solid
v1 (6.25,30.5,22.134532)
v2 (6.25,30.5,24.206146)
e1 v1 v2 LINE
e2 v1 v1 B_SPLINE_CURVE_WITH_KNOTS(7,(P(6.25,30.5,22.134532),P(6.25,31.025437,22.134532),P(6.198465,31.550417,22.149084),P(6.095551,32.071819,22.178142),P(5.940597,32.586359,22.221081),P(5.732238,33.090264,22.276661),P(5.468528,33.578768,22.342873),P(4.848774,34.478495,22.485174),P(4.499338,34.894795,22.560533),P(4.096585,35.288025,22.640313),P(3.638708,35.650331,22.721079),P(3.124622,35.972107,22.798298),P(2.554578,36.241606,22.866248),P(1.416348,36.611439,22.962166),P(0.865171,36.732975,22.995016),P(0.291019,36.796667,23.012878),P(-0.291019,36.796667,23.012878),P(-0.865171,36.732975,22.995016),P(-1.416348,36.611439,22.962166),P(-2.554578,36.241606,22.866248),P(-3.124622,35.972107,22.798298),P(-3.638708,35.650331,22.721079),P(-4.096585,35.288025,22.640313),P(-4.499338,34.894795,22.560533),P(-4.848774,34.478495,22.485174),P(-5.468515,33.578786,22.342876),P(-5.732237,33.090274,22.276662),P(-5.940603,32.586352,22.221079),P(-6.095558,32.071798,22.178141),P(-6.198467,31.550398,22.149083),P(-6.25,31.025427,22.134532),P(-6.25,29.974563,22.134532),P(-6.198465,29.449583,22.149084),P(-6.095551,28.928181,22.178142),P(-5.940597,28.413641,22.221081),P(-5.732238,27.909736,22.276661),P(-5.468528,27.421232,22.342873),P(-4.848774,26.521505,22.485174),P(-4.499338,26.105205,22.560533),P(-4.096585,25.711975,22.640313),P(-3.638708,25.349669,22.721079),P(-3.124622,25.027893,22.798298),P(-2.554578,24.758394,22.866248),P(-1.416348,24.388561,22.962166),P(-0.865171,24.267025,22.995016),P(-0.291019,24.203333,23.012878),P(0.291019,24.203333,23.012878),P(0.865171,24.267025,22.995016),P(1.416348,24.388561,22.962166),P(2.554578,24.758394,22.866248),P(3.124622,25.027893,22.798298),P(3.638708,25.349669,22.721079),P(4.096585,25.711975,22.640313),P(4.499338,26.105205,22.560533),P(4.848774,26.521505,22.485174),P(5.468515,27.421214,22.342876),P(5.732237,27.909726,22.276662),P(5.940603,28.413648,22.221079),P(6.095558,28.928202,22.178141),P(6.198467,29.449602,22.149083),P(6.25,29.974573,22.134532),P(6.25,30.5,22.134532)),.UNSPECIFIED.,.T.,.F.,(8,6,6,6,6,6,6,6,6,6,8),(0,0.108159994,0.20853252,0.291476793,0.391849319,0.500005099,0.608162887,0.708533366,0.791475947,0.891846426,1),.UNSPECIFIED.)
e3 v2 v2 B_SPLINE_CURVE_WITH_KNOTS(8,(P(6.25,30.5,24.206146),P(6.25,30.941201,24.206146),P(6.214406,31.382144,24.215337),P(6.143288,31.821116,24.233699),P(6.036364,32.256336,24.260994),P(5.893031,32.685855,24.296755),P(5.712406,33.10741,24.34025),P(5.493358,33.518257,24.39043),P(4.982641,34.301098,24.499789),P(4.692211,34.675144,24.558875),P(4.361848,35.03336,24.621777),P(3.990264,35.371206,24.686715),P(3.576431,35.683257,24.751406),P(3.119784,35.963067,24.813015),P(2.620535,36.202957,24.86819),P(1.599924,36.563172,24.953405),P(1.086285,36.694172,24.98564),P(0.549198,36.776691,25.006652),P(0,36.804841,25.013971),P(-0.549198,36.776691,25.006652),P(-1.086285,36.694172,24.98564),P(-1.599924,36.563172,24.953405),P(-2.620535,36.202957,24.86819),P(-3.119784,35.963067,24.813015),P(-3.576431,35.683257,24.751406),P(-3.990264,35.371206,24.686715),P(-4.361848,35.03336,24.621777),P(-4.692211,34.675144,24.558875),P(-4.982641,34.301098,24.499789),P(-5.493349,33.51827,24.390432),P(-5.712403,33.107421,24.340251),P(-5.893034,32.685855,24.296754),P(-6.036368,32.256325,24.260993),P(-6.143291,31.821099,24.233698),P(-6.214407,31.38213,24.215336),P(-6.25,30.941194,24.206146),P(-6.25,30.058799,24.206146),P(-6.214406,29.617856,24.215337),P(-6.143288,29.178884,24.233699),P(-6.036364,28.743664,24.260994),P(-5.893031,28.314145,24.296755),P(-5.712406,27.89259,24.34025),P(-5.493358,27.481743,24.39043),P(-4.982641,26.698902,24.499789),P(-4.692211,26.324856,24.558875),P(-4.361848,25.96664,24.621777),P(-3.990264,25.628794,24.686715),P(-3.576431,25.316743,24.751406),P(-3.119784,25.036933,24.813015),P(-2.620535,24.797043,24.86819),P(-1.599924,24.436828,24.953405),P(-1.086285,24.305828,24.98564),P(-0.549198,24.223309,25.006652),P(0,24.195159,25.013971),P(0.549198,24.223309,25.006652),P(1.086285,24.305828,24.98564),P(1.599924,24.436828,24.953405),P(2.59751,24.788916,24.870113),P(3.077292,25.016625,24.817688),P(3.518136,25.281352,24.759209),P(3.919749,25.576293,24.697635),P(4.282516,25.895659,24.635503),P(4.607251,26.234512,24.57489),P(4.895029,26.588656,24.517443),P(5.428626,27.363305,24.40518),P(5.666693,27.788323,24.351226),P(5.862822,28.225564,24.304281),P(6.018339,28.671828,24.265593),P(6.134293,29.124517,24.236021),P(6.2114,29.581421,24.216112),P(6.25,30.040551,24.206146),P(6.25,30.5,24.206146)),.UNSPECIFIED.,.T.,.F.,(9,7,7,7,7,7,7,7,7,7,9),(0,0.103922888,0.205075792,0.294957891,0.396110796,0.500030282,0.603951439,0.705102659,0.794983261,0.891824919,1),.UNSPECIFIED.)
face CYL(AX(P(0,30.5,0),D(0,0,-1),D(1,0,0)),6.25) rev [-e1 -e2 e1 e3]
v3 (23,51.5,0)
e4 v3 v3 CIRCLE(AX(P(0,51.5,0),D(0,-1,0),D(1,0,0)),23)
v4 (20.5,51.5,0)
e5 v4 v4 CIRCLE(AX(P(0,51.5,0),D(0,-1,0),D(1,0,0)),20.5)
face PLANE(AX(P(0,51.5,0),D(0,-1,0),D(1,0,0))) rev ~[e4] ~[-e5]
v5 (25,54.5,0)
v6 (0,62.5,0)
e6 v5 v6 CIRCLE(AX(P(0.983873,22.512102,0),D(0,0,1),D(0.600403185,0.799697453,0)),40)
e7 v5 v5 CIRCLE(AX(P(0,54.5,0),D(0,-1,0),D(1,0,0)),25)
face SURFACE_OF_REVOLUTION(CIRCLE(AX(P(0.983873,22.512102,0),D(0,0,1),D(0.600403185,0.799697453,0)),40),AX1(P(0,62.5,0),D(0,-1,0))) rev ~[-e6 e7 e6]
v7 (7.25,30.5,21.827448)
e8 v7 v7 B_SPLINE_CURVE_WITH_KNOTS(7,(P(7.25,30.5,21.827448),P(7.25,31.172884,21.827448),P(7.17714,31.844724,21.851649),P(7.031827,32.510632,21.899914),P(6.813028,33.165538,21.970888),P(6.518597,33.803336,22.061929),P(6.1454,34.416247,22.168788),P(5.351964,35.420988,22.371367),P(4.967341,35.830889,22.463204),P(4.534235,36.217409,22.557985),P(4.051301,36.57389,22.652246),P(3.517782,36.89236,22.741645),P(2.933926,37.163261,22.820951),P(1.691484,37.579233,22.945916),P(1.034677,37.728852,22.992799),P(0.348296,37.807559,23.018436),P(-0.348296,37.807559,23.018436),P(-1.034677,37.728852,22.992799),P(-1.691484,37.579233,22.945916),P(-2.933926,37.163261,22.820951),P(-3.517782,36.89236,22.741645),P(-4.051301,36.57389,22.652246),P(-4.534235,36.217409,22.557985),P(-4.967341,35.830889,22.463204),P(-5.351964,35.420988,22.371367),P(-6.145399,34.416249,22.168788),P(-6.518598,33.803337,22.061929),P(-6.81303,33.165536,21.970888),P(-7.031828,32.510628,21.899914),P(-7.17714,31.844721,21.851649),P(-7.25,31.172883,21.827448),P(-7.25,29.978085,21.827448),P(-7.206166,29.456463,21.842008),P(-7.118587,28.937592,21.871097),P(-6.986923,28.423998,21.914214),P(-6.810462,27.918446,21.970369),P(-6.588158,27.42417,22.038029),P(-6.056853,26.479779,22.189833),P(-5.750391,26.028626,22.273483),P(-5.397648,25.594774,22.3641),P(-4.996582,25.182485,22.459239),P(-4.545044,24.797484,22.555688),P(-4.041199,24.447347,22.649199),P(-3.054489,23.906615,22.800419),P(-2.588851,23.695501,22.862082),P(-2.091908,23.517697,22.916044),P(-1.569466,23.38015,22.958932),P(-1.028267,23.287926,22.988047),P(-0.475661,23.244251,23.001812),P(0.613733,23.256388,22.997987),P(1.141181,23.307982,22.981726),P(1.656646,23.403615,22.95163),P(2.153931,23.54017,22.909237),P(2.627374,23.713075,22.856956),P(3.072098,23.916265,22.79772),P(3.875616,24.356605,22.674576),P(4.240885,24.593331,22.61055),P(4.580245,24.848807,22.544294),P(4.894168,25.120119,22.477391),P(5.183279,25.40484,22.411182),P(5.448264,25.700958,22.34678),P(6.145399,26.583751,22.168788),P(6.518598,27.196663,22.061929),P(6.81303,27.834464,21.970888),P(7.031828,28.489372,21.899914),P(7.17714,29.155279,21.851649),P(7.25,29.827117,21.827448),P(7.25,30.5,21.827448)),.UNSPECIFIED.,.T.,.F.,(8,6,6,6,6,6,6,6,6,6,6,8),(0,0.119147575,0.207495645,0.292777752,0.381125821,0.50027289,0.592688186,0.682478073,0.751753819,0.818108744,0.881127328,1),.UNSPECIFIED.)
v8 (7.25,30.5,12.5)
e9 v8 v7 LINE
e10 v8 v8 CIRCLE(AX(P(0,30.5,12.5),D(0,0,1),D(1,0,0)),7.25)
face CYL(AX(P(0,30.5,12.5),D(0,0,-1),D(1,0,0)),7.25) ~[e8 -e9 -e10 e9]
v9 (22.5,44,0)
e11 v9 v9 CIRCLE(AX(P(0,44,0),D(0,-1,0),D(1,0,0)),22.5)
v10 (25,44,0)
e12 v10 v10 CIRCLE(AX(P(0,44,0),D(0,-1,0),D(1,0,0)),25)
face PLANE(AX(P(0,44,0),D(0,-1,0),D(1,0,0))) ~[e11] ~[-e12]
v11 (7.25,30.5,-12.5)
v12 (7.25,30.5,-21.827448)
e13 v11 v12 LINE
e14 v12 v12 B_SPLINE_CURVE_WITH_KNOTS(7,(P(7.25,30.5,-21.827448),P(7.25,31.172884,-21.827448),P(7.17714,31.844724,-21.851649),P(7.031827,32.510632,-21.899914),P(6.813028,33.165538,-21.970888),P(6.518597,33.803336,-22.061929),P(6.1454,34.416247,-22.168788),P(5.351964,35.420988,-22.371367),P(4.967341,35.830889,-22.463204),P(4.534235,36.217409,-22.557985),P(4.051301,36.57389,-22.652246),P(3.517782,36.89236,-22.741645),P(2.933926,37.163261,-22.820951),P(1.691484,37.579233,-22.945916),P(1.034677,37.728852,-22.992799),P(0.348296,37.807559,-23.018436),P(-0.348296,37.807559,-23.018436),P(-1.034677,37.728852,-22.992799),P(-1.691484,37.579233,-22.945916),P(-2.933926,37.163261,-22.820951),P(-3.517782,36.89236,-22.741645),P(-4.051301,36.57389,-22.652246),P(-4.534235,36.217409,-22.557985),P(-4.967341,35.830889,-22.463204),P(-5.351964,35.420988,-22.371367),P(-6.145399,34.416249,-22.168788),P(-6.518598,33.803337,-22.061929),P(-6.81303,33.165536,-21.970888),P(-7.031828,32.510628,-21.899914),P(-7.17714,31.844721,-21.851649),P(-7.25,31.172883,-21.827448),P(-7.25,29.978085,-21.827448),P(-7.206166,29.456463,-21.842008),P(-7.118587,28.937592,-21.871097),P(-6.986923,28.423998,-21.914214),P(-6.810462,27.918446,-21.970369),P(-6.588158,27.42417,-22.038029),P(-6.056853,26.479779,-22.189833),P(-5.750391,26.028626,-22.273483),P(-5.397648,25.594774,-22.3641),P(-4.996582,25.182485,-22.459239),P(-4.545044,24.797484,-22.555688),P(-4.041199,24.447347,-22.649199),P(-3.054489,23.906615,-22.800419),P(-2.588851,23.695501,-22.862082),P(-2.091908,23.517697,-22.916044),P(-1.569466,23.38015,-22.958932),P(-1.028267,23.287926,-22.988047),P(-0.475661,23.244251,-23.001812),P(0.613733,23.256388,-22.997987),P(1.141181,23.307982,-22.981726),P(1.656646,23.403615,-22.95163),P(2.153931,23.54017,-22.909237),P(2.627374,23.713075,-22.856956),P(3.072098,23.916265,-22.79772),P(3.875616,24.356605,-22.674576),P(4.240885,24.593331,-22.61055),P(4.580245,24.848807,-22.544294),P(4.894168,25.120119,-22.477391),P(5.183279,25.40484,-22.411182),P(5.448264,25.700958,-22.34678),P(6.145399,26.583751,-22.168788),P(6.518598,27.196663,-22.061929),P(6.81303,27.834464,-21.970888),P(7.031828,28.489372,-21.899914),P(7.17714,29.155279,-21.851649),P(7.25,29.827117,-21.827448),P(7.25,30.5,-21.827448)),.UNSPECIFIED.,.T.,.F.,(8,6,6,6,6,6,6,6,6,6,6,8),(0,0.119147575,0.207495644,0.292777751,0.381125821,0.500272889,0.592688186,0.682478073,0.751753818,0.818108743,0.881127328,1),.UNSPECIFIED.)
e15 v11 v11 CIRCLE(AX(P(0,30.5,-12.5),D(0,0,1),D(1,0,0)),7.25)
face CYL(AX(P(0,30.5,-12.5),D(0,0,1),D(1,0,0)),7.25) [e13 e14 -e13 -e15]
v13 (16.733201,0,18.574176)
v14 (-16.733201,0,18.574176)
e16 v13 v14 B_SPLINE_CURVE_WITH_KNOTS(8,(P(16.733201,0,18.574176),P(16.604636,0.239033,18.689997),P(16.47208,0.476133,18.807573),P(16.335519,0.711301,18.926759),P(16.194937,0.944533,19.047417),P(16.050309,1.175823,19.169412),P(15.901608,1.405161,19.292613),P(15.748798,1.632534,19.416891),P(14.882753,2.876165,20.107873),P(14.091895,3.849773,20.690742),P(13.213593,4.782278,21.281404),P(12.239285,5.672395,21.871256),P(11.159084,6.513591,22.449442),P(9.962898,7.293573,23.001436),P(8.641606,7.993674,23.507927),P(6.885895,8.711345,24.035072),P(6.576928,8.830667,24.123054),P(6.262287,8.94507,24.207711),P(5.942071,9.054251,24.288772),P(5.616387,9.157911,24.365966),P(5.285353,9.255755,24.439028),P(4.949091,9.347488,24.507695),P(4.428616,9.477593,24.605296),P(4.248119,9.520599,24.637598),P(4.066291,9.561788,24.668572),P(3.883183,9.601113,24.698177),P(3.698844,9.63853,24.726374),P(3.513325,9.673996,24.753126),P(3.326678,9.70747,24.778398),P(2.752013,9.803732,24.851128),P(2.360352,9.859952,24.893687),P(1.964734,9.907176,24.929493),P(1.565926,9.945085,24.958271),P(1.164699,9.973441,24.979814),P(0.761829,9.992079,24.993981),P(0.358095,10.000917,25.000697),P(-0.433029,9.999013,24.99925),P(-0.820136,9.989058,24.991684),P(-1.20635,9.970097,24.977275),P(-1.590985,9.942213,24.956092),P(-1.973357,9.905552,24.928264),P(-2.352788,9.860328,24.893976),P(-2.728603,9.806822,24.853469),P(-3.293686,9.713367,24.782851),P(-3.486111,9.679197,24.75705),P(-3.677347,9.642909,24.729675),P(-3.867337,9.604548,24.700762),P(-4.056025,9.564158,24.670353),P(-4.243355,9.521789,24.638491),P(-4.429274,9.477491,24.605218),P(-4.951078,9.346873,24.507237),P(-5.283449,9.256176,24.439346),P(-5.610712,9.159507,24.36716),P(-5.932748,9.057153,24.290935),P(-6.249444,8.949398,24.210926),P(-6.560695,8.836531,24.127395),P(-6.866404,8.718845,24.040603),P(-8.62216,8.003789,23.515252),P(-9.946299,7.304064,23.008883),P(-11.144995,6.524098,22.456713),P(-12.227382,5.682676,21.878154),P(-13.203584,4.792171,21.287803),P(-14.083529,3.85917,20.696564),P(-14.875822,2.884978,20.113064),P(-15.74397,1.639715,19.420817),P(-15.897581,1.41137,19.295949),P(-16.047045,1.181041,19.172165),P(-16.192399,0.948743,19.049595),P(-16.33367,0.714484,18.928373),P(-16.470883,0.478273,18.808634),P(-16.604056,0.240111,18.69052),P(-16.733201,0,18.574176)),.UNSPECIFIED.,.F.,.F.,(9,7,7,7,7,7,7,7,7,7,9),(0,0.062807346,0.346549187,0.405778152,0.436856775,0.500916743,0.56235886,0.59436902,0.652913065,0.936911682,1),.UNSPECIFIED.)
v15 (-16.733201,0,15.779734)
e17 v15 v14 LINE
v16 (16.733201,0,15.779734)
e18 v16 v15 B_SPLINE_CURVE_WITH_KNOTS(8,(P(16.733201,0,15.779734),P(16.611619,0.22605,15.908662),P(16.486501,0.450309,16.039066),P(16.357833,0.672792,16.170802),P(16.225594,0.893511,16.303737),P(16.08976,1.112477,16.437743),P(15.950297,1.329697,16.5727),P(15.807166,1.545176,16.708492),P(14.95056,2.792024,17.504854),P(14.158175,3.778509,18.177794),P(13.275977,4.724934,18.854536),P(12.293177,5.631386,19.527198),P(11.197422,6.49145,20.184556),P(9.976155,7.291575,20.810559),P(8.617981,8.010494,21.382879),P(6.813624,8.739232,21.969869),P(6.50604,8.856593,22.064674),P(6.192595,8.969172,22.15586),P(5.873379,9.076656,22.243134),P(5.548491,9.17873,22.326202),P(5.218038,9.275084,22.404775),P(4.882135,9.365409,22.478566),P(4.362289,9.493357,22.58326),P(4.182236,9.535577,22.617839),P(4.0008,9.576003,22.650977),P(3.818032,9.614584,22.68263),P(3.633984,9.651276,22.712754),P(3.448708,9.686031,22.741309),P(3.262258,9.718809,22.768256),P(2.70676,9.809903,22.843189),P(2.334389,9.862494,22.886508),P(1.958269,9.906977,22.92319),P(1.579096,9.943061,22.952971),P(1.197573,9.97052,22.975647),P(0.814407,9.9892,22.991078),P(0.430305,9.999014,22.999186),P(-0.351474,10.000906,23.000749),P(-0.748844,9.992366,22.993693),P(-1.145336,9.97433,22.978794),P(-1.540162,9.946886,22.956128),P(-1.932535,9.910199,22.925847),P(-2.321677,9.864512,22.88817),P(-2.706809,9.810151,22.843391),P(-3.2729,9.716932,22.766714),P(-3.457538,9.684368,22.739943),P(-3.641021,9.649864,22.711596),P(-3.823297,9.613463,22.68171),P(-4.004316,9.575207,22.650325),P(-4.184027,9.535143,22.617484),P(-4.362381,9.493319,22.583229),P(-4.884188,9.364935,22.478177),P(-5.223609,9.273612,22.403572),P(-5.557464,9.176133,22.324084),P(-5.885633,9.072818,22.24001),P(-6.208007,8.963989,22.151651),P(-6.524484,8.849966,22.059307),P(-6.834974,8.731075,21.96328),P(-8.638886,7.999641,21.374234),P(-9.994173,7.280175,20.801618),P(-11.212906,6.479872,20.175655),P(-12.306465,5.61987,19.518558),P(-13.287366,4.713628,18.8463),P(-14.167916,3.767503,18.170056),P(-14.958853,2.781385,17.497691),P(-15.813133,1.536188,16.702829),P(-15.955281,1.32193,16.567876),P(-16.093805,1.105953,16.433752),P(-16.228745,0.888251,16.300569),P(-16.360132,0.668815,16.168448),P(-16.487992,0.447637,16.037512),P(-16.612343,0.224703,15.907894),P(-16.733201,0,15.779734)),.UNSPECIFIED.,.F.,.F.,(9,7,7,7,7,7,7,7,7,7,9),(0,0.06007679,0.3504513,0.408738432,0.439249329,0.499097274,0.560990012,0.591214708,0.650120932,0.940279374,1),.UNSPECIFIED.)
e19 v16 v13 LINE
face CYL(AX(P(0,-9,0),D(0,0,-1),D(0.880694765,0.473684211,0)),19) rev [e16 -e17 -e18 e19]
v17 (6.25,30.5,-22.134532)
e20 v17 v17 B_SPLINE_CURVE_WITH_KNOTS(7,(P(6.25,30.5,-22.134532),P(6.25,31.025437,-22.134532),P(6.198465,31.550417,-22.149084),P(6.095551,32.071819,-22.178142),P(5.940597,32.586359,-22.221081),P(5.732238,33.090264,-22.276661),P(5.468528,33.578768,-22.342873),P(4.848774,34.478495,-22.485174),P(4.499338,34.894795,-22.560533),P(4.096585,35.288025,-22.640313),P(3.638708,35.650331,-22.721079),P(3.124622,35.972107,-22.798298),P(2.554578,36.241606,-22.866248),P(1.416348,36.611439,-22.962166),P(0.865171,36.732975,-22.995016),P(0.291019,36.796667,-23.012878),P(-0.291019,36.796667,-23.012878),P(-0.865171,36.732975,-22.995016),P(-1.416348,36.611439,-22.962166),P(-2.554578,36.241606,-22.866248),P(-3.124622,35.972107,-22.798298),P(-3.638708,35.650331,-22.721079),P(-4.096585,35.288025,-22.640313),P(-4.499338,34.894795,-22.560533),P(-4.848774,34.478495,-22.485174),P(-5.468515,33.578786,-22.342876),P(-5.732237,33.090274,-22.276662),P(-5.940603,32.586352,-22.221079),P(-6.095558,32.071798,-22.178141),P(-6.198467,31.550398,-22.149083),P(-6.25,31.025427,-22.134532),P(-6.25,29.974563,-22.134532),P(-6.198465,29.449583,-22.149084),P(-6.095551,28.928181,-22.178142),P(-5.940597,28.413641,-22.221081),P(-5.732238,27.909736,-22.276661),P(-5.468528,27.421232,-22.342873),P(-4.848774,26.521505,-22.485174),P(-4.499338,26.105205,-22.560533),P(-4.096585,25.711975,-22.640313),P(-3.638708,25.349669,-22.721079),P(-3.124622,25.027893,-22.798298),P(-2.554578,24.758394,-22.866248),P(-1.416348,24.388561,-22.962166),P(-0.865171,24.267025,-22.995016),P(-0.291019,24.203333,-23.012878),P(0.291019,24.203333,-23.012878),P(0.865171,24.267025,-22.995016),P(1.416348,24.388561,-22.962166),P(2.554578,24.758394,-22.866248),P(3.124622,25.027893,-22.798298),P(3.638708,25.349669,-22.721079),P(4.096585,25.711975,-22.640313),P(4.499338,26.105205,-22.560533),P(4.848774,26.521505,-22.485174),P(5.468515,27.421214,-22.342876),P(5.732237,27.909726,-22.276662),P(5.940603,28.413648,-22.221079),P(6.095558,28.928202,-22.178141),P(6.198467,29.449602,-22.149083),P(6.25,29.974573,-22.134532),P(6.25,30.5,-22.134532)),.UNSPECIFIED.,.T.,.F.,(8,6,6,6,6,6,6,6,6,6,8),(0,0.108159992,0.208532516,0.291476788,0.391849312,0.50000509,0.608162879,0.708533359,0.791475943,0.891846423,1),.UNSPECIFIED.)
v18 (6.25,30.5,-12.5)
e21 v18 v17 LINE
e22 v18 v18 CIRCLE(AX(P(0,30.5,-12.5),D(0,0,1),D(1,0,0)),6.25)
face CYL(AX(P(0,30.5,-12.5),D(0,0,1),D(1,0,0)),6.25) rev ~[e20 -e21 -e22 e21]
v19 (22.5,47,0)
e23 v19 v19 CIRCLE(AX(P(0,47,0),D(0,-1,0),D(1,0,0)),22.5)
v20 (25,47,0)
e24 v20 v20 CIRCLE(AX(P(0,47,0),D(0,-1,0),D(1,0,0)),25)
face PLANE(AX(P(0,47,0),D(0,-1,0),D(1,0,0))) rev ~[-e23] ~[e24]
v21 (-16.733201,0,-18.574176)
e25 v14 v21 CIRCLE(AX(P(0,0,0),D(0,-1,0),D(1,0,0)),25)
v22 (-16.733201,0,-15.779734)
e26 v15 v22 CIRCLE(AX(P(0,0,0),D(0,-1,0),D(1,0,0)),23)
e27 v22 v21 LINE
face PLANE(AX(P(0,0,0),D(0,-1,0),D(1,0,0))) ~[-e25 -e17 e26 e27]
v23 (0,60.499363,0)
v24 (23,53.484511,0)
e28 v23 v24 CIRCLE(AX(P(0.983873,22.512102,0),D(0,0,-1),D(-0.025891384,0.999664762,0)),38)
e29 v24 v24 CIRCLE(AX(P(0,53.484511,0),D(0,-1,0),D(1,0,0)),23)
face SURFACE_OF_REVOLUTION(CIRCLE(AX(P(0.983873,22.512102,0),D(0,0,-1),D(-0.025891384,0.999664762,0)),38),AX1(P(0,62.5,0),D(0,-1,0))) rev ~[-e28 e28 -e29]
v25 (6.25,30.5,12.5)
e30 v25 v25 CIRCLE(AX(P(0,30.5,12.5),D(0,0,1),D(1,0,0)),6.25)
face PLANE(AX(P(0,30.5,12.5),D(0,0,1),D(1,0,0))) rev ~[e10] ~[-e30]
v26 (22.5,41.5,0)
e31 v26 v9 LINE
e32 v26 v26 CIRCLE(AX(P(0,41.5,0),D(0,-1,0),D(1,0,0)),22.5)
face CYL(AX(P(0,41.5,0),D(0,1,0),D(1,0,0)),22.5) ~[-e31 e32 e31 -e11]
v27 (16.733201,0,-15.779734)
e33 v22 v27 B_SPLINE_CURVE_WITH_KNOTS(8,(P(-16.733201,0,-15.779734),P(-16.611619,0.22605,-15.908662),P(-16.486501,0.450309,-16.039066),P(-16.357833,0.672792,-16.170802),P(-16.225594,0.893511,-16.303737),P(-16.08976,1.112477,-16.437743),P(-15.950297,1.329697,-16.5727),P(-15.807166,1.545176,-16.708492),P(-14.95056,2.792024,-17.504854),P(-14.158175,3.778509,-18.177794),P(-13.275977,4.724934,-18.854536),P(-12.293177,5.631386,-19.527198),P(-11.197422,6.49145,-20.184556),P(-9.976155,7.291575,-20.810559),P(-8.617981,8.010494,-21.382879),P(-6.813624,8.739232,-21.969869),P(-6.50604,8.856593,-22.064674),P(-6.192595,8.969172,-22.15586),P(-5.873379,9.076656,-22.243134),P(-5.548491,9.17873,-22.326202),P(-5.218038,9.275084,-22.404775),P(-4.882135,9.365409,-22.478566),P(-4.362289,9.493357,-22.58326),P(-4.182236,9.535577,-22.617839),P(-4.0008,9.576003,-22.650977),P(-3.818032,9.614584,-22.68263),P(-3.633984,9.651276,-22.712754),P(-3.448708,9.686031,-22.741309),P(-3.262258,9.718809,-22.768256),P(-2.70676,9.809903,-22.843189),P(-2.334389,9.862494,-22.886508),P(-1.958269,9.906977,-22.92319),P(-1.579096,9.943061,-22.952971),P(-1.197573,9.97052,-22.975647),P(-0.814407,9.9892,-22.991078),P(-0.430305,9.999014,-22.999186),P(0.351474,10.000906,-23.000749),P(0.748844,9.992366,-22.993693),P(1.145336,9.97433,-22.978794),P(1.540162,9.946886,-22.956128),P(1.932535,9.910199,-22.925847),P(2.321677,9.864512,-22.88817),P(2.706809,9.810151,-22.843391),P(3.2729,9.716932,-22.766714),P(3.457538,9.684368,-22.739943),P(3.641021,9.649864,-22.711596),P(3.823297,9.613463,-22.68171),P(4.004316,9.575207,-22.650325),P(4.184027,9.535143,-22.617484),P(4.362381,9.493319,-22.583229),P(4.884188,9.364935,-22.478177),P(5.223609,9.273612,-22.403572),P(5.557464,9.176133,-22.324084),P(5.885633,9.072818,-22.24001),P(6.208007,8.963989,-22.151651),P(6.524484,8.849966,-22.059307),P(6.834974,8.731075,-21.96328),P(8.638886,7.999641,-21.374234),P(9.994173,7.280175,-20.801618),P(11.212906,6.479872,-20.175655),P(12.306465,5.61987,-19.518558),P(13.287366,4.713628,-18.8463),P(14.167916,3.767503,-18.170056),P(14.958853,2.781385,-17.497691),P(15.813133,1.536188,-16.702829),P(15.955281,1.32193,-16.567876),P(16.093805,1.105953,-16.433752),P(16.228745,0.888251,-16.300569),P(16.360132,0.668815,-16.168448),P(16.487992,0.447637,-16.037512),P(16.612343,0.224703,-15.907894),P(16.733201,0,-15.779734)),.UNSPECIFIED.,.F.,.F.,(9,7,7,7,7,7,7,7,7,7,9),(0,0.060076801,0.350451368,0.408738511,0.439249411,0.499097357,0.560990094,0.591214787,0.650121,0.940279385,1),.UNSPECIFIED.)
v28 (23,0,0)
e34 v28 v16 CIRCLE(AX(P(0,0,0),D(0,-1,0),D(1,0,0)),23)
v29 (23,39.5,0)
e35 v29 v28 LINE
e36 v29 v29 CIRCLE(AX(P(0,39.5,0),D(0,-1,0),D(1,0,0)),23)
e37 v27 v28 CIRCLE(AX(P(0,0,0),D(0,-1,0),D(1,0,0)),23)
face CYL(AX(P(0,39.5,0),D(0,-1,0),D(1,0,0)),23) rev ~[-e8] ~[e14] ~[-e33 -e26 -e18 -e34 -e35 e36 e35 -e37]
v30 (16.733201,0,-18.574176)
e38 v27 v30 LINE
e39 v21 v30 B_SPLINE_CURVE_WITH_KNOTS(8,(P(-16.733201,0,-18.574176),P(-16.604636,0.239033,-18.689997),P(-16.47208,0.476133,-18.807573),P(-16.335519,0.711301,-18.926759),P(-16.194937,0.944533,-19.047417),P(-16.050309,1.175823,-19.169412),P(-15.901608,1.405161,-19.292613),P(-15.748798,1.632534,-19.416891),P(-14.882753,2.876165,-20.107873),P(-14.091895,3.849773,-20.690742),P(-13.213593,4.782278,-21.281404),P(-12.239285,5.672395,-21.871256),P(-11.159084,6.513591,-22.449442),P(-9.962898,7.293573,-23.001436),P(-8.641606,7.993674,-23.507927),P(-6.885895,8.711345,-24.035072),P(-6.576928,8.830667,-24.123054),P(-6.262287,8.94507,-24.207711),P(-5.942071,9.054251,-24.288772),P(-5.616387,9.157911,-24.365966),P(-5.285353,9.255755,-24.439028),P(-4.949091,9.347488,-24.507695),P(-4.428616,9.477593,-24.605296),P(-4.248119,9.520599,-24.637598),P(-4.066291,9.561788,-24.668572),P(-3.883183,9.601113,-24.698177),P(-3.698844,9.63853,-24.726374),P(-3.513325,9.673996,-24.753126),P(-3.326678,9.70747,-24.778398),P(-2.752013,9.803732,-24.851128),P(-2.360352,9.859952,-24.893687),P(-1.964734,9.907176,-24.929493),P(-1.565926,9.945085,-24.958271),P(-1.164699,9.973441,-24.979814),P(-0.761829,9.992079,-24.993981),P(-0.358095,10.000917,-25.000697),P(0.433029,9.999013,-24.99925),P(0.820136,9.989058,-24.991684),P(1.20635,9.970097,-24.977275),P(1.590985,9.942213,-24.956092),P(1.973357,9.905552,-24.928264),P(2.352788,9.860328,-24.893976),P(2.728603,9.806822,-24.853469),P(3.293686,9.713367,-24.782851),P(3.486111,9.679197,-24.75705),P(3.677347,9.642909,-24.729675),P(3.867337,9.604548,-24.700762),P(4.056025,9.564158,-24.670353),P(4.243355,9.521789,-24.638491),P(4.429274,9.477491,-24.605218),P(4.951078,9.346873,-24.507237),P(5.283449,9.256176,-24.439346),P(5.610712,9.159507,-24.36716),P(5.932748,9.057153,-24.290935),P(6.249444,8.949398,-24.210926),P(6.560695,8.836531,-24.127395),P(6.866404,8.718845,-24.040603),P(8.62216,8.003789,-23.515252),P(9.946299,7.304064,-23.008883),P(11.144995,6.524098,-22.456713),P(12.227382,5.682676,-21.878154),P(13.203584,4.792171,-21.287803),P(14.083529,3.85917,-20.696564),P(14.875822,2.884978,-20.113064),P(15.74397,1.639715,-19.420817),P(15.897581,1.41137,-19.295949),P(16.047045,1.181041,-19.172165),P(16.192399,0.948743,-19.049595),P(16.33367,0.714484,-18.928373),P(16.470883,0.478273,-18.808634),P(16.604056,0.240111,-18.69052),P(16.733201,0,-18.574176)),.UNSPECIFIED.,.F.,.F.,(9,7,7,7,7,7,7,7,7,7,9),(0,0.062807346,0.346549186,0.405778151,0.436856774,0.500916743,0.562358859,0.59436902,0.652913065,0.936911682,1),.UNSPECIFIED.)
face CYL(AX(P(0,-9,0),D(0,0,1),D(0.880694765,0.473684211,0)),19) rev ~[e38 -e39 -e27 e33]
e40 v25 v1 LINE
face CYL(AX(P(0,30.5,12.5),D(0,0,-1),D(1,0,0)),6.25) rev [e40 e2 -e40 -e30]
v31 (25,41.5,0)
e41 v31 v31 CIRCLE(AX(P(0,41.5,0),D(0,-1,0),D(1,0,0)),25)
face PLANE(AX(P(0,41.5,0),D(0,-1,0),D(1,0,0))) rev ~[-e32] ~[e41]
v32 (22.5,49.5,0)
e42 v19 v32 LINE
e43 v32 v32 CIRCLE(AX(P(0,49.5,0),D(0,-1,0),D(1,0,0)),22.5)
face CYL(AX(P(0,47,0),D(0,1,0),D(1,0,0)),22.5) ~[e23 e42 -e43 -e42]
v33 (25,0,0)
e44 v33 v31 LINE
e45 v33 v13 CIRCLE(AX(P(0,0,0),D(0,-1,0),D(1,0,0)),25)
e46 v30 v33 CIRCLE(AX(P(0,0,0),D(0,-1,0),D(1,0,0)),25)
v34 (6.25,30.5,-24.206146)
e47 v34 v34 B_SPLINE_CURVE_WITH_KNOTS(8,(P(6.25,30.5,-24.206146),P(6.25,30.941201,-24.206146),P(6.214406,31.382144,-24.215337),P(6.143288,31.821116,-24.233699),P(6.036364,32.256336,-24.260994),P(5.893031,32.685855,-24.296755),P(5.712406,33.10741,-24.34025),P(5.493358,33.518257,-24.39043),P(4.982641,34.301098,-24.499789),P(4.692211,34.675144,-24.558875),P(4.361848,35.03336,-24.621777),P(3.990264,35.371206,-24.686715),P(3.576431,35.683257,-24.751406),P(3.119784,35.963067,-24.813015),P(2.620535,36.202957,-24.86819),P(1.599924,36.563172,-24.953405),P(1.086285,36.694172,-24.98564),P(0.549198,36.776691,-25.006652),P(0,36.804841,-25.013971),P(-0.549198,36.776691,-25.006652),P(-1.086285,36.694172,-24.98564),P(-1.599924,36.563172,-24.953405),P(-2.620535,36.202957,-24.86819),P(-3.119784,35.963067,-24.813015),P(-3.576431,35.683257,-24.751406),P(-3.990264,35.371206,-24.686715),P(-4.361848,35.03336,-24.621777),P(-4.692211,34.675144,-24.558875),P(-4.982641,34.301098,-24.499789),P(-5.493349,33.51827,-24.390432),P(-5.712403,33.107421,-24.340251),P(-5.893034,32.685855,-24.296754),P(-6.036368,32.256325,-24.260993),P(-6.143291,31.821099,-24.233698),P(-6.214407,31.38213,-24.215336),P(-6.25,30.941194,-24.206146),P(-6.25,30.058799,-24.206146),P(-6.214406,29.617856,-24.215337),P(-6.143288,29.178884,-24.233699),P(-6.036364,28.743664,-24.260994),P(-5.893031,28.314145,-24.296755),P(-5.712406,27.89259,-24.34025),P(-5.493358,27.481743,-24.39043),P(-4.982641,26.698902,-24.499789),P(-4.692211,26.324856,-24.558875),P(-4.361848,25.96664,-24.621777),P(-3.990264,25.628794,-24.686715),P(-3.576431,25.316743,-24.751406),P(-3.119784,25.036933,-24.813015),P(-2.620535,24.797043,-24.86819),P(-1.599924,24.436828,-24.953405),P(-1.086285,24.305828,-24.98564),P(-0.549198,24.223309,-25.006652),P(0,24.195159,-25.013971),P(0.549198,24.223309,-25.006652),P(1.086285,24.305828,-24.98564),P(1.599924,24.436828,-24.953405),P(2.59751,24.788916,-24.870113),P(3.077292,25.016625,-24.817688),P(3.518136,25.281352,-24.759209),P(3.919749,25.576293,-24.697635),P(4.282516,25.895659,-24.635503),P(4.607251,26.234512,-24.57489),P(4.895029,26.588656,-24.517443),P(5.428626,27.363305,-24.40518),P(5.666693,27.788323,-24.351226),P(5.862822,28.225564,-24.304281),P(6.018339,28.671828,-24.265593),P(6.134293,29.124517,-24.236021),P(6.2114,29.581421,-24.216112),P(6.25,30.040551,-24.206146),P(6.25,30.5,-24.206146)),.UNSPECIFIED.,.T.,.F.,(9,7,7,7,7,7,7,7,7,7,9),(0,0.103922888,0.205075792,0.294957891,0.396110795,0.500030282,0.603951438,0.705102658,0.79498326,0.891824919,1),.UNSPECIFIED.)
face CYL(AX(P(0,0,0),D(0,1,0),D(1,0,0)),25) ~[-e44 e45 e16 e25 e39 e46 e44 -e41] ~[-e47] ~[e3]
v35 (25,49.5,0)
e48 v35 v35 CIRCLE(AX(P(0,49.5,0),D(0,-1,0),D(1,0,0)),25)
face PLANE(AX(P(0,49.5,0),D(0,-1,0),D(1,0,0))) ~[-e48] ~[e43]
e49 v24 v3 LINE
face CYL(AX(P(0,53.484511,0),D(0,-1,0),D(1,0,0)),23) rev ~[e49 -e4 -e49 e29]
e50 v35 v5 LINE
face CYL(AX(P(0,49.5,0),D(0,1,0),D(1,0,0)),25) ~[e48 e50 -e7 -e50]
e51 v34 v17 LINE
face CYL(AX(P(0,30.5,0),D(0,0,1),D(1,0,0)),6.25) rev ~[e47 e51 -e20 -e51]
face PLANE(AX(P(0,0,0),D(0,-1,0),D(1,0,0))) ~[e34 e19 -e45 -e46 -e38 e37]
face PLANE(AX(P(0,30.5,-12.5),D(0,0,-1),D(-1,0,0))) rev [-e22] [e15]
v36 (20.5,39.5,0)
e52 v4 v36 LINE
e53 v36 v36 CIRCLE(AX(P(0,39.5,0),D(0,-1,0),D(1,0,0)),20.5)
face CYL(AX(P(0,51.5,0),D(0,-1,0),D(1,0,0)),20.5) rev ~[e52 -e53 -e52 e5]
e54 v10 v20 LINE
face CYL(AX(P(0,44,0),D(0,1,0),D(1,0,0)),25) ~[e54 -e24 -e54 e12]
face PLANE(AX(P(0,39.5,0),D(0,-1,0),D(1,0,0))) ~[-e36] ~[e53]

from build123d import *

# Parameters (mm, degrees)
SKETCH2_R               = 6.25
CUT_EXTRUDE1_DEPTH      = 26.0000001
CUT_EXTRUDE1_DEPTH_BACK = 26.0000001
BOSS_EXTRUDE4_START     = 12.5
SKETCH3_R               = 7.25
SKETCH3_R_2             = 6.25
BOSS_EXTRUDE4_DEPTH     = 11.425666


with BuildPart() as part:
    # Sketch1 → Revolve1 (revolve)
    with BuildSketch(Plane.XY):
        with BuildLine():
            Line((23, 0), (25, 0))
            Line((25, 0), (25, 41.5))
            Line((25, 41.5), (22.5, 41.5))
            Line((22.5, 41.5), (22.5, 44))
            Line((22.5, 44), (25, 44))
            Line((25, 44), (25, 47))
            Line((25, 47), (22.5, 47))
            Line((22.5, 47), (22.5, 49.5))
            Line((22.5, 49.5), (25, 49.5))
            Line((25, 49.5), (25, 54.5))
            ThreePointArc((25, 54.5), (13.174901691, 60.609067785), (0, 62.5))
            Line((0, 62.5), (0, 60.49936285))
            ThreePointArc((0, 60.49936285), (12.069492637, 58.859165445), (23, 53.484511145))
            Line((23, 53.484511145), (23, 51.5))
            Line((23, 51.5), (20.5, 51.5))
            Line((20.5, 51.5), (20.5, 39.5))
            Line((20.5, 39.5), (23, 39.5))
            Line((23, 39.5), (23, 0))
        make_face()
    revolve(axis=Axis((0, 62.5, 0), (0, -1, 0)))

    # Sketch2 → Cut-Extrude1 (cut, two sides)
    with BuildSketch(Plane.XY) as cut_extrude1_sk:
        with Locations((0, 30.5)):
            Circle(SKETCH2_R)
        with BuildLine():
            ThreePointArc((16.733200531, 0), (0, 10), (-16.733200531, 0))
            Line((-16.733200531, 0), (16.733200531, 0))
        make_face()
    extrude(amount=CUT_EXTRUDE1_DEPTH, mode=Mode.SUBTRACT)
    extrude(cut_extrude1_sk.sketch, amount=-CUT_EXTRUDE1_DEPTH_BACK, mode=Mode.SUBTRACT)

    # Sketch3 → Boss-Extrude4 (add)
    with BuildSketch(Plane.XY.offset(BOSS_EXTRUDE4_START)):
        with Locations((0, 30.5)):
            Circle(SKETCH3_R)
        with Locations((0, 30.5)):
            Circle(SKETCH3_R_2, mode=Mode.SUBTRACT)
    boss_extrude4 = extrude(amount=BOSS_EXTRUDE4_DEPTH)

    # Mirror1: Boss-Extrude4 across plane
    add(boss_extrude4.mirror(Plane.XY))


solid = part.part
